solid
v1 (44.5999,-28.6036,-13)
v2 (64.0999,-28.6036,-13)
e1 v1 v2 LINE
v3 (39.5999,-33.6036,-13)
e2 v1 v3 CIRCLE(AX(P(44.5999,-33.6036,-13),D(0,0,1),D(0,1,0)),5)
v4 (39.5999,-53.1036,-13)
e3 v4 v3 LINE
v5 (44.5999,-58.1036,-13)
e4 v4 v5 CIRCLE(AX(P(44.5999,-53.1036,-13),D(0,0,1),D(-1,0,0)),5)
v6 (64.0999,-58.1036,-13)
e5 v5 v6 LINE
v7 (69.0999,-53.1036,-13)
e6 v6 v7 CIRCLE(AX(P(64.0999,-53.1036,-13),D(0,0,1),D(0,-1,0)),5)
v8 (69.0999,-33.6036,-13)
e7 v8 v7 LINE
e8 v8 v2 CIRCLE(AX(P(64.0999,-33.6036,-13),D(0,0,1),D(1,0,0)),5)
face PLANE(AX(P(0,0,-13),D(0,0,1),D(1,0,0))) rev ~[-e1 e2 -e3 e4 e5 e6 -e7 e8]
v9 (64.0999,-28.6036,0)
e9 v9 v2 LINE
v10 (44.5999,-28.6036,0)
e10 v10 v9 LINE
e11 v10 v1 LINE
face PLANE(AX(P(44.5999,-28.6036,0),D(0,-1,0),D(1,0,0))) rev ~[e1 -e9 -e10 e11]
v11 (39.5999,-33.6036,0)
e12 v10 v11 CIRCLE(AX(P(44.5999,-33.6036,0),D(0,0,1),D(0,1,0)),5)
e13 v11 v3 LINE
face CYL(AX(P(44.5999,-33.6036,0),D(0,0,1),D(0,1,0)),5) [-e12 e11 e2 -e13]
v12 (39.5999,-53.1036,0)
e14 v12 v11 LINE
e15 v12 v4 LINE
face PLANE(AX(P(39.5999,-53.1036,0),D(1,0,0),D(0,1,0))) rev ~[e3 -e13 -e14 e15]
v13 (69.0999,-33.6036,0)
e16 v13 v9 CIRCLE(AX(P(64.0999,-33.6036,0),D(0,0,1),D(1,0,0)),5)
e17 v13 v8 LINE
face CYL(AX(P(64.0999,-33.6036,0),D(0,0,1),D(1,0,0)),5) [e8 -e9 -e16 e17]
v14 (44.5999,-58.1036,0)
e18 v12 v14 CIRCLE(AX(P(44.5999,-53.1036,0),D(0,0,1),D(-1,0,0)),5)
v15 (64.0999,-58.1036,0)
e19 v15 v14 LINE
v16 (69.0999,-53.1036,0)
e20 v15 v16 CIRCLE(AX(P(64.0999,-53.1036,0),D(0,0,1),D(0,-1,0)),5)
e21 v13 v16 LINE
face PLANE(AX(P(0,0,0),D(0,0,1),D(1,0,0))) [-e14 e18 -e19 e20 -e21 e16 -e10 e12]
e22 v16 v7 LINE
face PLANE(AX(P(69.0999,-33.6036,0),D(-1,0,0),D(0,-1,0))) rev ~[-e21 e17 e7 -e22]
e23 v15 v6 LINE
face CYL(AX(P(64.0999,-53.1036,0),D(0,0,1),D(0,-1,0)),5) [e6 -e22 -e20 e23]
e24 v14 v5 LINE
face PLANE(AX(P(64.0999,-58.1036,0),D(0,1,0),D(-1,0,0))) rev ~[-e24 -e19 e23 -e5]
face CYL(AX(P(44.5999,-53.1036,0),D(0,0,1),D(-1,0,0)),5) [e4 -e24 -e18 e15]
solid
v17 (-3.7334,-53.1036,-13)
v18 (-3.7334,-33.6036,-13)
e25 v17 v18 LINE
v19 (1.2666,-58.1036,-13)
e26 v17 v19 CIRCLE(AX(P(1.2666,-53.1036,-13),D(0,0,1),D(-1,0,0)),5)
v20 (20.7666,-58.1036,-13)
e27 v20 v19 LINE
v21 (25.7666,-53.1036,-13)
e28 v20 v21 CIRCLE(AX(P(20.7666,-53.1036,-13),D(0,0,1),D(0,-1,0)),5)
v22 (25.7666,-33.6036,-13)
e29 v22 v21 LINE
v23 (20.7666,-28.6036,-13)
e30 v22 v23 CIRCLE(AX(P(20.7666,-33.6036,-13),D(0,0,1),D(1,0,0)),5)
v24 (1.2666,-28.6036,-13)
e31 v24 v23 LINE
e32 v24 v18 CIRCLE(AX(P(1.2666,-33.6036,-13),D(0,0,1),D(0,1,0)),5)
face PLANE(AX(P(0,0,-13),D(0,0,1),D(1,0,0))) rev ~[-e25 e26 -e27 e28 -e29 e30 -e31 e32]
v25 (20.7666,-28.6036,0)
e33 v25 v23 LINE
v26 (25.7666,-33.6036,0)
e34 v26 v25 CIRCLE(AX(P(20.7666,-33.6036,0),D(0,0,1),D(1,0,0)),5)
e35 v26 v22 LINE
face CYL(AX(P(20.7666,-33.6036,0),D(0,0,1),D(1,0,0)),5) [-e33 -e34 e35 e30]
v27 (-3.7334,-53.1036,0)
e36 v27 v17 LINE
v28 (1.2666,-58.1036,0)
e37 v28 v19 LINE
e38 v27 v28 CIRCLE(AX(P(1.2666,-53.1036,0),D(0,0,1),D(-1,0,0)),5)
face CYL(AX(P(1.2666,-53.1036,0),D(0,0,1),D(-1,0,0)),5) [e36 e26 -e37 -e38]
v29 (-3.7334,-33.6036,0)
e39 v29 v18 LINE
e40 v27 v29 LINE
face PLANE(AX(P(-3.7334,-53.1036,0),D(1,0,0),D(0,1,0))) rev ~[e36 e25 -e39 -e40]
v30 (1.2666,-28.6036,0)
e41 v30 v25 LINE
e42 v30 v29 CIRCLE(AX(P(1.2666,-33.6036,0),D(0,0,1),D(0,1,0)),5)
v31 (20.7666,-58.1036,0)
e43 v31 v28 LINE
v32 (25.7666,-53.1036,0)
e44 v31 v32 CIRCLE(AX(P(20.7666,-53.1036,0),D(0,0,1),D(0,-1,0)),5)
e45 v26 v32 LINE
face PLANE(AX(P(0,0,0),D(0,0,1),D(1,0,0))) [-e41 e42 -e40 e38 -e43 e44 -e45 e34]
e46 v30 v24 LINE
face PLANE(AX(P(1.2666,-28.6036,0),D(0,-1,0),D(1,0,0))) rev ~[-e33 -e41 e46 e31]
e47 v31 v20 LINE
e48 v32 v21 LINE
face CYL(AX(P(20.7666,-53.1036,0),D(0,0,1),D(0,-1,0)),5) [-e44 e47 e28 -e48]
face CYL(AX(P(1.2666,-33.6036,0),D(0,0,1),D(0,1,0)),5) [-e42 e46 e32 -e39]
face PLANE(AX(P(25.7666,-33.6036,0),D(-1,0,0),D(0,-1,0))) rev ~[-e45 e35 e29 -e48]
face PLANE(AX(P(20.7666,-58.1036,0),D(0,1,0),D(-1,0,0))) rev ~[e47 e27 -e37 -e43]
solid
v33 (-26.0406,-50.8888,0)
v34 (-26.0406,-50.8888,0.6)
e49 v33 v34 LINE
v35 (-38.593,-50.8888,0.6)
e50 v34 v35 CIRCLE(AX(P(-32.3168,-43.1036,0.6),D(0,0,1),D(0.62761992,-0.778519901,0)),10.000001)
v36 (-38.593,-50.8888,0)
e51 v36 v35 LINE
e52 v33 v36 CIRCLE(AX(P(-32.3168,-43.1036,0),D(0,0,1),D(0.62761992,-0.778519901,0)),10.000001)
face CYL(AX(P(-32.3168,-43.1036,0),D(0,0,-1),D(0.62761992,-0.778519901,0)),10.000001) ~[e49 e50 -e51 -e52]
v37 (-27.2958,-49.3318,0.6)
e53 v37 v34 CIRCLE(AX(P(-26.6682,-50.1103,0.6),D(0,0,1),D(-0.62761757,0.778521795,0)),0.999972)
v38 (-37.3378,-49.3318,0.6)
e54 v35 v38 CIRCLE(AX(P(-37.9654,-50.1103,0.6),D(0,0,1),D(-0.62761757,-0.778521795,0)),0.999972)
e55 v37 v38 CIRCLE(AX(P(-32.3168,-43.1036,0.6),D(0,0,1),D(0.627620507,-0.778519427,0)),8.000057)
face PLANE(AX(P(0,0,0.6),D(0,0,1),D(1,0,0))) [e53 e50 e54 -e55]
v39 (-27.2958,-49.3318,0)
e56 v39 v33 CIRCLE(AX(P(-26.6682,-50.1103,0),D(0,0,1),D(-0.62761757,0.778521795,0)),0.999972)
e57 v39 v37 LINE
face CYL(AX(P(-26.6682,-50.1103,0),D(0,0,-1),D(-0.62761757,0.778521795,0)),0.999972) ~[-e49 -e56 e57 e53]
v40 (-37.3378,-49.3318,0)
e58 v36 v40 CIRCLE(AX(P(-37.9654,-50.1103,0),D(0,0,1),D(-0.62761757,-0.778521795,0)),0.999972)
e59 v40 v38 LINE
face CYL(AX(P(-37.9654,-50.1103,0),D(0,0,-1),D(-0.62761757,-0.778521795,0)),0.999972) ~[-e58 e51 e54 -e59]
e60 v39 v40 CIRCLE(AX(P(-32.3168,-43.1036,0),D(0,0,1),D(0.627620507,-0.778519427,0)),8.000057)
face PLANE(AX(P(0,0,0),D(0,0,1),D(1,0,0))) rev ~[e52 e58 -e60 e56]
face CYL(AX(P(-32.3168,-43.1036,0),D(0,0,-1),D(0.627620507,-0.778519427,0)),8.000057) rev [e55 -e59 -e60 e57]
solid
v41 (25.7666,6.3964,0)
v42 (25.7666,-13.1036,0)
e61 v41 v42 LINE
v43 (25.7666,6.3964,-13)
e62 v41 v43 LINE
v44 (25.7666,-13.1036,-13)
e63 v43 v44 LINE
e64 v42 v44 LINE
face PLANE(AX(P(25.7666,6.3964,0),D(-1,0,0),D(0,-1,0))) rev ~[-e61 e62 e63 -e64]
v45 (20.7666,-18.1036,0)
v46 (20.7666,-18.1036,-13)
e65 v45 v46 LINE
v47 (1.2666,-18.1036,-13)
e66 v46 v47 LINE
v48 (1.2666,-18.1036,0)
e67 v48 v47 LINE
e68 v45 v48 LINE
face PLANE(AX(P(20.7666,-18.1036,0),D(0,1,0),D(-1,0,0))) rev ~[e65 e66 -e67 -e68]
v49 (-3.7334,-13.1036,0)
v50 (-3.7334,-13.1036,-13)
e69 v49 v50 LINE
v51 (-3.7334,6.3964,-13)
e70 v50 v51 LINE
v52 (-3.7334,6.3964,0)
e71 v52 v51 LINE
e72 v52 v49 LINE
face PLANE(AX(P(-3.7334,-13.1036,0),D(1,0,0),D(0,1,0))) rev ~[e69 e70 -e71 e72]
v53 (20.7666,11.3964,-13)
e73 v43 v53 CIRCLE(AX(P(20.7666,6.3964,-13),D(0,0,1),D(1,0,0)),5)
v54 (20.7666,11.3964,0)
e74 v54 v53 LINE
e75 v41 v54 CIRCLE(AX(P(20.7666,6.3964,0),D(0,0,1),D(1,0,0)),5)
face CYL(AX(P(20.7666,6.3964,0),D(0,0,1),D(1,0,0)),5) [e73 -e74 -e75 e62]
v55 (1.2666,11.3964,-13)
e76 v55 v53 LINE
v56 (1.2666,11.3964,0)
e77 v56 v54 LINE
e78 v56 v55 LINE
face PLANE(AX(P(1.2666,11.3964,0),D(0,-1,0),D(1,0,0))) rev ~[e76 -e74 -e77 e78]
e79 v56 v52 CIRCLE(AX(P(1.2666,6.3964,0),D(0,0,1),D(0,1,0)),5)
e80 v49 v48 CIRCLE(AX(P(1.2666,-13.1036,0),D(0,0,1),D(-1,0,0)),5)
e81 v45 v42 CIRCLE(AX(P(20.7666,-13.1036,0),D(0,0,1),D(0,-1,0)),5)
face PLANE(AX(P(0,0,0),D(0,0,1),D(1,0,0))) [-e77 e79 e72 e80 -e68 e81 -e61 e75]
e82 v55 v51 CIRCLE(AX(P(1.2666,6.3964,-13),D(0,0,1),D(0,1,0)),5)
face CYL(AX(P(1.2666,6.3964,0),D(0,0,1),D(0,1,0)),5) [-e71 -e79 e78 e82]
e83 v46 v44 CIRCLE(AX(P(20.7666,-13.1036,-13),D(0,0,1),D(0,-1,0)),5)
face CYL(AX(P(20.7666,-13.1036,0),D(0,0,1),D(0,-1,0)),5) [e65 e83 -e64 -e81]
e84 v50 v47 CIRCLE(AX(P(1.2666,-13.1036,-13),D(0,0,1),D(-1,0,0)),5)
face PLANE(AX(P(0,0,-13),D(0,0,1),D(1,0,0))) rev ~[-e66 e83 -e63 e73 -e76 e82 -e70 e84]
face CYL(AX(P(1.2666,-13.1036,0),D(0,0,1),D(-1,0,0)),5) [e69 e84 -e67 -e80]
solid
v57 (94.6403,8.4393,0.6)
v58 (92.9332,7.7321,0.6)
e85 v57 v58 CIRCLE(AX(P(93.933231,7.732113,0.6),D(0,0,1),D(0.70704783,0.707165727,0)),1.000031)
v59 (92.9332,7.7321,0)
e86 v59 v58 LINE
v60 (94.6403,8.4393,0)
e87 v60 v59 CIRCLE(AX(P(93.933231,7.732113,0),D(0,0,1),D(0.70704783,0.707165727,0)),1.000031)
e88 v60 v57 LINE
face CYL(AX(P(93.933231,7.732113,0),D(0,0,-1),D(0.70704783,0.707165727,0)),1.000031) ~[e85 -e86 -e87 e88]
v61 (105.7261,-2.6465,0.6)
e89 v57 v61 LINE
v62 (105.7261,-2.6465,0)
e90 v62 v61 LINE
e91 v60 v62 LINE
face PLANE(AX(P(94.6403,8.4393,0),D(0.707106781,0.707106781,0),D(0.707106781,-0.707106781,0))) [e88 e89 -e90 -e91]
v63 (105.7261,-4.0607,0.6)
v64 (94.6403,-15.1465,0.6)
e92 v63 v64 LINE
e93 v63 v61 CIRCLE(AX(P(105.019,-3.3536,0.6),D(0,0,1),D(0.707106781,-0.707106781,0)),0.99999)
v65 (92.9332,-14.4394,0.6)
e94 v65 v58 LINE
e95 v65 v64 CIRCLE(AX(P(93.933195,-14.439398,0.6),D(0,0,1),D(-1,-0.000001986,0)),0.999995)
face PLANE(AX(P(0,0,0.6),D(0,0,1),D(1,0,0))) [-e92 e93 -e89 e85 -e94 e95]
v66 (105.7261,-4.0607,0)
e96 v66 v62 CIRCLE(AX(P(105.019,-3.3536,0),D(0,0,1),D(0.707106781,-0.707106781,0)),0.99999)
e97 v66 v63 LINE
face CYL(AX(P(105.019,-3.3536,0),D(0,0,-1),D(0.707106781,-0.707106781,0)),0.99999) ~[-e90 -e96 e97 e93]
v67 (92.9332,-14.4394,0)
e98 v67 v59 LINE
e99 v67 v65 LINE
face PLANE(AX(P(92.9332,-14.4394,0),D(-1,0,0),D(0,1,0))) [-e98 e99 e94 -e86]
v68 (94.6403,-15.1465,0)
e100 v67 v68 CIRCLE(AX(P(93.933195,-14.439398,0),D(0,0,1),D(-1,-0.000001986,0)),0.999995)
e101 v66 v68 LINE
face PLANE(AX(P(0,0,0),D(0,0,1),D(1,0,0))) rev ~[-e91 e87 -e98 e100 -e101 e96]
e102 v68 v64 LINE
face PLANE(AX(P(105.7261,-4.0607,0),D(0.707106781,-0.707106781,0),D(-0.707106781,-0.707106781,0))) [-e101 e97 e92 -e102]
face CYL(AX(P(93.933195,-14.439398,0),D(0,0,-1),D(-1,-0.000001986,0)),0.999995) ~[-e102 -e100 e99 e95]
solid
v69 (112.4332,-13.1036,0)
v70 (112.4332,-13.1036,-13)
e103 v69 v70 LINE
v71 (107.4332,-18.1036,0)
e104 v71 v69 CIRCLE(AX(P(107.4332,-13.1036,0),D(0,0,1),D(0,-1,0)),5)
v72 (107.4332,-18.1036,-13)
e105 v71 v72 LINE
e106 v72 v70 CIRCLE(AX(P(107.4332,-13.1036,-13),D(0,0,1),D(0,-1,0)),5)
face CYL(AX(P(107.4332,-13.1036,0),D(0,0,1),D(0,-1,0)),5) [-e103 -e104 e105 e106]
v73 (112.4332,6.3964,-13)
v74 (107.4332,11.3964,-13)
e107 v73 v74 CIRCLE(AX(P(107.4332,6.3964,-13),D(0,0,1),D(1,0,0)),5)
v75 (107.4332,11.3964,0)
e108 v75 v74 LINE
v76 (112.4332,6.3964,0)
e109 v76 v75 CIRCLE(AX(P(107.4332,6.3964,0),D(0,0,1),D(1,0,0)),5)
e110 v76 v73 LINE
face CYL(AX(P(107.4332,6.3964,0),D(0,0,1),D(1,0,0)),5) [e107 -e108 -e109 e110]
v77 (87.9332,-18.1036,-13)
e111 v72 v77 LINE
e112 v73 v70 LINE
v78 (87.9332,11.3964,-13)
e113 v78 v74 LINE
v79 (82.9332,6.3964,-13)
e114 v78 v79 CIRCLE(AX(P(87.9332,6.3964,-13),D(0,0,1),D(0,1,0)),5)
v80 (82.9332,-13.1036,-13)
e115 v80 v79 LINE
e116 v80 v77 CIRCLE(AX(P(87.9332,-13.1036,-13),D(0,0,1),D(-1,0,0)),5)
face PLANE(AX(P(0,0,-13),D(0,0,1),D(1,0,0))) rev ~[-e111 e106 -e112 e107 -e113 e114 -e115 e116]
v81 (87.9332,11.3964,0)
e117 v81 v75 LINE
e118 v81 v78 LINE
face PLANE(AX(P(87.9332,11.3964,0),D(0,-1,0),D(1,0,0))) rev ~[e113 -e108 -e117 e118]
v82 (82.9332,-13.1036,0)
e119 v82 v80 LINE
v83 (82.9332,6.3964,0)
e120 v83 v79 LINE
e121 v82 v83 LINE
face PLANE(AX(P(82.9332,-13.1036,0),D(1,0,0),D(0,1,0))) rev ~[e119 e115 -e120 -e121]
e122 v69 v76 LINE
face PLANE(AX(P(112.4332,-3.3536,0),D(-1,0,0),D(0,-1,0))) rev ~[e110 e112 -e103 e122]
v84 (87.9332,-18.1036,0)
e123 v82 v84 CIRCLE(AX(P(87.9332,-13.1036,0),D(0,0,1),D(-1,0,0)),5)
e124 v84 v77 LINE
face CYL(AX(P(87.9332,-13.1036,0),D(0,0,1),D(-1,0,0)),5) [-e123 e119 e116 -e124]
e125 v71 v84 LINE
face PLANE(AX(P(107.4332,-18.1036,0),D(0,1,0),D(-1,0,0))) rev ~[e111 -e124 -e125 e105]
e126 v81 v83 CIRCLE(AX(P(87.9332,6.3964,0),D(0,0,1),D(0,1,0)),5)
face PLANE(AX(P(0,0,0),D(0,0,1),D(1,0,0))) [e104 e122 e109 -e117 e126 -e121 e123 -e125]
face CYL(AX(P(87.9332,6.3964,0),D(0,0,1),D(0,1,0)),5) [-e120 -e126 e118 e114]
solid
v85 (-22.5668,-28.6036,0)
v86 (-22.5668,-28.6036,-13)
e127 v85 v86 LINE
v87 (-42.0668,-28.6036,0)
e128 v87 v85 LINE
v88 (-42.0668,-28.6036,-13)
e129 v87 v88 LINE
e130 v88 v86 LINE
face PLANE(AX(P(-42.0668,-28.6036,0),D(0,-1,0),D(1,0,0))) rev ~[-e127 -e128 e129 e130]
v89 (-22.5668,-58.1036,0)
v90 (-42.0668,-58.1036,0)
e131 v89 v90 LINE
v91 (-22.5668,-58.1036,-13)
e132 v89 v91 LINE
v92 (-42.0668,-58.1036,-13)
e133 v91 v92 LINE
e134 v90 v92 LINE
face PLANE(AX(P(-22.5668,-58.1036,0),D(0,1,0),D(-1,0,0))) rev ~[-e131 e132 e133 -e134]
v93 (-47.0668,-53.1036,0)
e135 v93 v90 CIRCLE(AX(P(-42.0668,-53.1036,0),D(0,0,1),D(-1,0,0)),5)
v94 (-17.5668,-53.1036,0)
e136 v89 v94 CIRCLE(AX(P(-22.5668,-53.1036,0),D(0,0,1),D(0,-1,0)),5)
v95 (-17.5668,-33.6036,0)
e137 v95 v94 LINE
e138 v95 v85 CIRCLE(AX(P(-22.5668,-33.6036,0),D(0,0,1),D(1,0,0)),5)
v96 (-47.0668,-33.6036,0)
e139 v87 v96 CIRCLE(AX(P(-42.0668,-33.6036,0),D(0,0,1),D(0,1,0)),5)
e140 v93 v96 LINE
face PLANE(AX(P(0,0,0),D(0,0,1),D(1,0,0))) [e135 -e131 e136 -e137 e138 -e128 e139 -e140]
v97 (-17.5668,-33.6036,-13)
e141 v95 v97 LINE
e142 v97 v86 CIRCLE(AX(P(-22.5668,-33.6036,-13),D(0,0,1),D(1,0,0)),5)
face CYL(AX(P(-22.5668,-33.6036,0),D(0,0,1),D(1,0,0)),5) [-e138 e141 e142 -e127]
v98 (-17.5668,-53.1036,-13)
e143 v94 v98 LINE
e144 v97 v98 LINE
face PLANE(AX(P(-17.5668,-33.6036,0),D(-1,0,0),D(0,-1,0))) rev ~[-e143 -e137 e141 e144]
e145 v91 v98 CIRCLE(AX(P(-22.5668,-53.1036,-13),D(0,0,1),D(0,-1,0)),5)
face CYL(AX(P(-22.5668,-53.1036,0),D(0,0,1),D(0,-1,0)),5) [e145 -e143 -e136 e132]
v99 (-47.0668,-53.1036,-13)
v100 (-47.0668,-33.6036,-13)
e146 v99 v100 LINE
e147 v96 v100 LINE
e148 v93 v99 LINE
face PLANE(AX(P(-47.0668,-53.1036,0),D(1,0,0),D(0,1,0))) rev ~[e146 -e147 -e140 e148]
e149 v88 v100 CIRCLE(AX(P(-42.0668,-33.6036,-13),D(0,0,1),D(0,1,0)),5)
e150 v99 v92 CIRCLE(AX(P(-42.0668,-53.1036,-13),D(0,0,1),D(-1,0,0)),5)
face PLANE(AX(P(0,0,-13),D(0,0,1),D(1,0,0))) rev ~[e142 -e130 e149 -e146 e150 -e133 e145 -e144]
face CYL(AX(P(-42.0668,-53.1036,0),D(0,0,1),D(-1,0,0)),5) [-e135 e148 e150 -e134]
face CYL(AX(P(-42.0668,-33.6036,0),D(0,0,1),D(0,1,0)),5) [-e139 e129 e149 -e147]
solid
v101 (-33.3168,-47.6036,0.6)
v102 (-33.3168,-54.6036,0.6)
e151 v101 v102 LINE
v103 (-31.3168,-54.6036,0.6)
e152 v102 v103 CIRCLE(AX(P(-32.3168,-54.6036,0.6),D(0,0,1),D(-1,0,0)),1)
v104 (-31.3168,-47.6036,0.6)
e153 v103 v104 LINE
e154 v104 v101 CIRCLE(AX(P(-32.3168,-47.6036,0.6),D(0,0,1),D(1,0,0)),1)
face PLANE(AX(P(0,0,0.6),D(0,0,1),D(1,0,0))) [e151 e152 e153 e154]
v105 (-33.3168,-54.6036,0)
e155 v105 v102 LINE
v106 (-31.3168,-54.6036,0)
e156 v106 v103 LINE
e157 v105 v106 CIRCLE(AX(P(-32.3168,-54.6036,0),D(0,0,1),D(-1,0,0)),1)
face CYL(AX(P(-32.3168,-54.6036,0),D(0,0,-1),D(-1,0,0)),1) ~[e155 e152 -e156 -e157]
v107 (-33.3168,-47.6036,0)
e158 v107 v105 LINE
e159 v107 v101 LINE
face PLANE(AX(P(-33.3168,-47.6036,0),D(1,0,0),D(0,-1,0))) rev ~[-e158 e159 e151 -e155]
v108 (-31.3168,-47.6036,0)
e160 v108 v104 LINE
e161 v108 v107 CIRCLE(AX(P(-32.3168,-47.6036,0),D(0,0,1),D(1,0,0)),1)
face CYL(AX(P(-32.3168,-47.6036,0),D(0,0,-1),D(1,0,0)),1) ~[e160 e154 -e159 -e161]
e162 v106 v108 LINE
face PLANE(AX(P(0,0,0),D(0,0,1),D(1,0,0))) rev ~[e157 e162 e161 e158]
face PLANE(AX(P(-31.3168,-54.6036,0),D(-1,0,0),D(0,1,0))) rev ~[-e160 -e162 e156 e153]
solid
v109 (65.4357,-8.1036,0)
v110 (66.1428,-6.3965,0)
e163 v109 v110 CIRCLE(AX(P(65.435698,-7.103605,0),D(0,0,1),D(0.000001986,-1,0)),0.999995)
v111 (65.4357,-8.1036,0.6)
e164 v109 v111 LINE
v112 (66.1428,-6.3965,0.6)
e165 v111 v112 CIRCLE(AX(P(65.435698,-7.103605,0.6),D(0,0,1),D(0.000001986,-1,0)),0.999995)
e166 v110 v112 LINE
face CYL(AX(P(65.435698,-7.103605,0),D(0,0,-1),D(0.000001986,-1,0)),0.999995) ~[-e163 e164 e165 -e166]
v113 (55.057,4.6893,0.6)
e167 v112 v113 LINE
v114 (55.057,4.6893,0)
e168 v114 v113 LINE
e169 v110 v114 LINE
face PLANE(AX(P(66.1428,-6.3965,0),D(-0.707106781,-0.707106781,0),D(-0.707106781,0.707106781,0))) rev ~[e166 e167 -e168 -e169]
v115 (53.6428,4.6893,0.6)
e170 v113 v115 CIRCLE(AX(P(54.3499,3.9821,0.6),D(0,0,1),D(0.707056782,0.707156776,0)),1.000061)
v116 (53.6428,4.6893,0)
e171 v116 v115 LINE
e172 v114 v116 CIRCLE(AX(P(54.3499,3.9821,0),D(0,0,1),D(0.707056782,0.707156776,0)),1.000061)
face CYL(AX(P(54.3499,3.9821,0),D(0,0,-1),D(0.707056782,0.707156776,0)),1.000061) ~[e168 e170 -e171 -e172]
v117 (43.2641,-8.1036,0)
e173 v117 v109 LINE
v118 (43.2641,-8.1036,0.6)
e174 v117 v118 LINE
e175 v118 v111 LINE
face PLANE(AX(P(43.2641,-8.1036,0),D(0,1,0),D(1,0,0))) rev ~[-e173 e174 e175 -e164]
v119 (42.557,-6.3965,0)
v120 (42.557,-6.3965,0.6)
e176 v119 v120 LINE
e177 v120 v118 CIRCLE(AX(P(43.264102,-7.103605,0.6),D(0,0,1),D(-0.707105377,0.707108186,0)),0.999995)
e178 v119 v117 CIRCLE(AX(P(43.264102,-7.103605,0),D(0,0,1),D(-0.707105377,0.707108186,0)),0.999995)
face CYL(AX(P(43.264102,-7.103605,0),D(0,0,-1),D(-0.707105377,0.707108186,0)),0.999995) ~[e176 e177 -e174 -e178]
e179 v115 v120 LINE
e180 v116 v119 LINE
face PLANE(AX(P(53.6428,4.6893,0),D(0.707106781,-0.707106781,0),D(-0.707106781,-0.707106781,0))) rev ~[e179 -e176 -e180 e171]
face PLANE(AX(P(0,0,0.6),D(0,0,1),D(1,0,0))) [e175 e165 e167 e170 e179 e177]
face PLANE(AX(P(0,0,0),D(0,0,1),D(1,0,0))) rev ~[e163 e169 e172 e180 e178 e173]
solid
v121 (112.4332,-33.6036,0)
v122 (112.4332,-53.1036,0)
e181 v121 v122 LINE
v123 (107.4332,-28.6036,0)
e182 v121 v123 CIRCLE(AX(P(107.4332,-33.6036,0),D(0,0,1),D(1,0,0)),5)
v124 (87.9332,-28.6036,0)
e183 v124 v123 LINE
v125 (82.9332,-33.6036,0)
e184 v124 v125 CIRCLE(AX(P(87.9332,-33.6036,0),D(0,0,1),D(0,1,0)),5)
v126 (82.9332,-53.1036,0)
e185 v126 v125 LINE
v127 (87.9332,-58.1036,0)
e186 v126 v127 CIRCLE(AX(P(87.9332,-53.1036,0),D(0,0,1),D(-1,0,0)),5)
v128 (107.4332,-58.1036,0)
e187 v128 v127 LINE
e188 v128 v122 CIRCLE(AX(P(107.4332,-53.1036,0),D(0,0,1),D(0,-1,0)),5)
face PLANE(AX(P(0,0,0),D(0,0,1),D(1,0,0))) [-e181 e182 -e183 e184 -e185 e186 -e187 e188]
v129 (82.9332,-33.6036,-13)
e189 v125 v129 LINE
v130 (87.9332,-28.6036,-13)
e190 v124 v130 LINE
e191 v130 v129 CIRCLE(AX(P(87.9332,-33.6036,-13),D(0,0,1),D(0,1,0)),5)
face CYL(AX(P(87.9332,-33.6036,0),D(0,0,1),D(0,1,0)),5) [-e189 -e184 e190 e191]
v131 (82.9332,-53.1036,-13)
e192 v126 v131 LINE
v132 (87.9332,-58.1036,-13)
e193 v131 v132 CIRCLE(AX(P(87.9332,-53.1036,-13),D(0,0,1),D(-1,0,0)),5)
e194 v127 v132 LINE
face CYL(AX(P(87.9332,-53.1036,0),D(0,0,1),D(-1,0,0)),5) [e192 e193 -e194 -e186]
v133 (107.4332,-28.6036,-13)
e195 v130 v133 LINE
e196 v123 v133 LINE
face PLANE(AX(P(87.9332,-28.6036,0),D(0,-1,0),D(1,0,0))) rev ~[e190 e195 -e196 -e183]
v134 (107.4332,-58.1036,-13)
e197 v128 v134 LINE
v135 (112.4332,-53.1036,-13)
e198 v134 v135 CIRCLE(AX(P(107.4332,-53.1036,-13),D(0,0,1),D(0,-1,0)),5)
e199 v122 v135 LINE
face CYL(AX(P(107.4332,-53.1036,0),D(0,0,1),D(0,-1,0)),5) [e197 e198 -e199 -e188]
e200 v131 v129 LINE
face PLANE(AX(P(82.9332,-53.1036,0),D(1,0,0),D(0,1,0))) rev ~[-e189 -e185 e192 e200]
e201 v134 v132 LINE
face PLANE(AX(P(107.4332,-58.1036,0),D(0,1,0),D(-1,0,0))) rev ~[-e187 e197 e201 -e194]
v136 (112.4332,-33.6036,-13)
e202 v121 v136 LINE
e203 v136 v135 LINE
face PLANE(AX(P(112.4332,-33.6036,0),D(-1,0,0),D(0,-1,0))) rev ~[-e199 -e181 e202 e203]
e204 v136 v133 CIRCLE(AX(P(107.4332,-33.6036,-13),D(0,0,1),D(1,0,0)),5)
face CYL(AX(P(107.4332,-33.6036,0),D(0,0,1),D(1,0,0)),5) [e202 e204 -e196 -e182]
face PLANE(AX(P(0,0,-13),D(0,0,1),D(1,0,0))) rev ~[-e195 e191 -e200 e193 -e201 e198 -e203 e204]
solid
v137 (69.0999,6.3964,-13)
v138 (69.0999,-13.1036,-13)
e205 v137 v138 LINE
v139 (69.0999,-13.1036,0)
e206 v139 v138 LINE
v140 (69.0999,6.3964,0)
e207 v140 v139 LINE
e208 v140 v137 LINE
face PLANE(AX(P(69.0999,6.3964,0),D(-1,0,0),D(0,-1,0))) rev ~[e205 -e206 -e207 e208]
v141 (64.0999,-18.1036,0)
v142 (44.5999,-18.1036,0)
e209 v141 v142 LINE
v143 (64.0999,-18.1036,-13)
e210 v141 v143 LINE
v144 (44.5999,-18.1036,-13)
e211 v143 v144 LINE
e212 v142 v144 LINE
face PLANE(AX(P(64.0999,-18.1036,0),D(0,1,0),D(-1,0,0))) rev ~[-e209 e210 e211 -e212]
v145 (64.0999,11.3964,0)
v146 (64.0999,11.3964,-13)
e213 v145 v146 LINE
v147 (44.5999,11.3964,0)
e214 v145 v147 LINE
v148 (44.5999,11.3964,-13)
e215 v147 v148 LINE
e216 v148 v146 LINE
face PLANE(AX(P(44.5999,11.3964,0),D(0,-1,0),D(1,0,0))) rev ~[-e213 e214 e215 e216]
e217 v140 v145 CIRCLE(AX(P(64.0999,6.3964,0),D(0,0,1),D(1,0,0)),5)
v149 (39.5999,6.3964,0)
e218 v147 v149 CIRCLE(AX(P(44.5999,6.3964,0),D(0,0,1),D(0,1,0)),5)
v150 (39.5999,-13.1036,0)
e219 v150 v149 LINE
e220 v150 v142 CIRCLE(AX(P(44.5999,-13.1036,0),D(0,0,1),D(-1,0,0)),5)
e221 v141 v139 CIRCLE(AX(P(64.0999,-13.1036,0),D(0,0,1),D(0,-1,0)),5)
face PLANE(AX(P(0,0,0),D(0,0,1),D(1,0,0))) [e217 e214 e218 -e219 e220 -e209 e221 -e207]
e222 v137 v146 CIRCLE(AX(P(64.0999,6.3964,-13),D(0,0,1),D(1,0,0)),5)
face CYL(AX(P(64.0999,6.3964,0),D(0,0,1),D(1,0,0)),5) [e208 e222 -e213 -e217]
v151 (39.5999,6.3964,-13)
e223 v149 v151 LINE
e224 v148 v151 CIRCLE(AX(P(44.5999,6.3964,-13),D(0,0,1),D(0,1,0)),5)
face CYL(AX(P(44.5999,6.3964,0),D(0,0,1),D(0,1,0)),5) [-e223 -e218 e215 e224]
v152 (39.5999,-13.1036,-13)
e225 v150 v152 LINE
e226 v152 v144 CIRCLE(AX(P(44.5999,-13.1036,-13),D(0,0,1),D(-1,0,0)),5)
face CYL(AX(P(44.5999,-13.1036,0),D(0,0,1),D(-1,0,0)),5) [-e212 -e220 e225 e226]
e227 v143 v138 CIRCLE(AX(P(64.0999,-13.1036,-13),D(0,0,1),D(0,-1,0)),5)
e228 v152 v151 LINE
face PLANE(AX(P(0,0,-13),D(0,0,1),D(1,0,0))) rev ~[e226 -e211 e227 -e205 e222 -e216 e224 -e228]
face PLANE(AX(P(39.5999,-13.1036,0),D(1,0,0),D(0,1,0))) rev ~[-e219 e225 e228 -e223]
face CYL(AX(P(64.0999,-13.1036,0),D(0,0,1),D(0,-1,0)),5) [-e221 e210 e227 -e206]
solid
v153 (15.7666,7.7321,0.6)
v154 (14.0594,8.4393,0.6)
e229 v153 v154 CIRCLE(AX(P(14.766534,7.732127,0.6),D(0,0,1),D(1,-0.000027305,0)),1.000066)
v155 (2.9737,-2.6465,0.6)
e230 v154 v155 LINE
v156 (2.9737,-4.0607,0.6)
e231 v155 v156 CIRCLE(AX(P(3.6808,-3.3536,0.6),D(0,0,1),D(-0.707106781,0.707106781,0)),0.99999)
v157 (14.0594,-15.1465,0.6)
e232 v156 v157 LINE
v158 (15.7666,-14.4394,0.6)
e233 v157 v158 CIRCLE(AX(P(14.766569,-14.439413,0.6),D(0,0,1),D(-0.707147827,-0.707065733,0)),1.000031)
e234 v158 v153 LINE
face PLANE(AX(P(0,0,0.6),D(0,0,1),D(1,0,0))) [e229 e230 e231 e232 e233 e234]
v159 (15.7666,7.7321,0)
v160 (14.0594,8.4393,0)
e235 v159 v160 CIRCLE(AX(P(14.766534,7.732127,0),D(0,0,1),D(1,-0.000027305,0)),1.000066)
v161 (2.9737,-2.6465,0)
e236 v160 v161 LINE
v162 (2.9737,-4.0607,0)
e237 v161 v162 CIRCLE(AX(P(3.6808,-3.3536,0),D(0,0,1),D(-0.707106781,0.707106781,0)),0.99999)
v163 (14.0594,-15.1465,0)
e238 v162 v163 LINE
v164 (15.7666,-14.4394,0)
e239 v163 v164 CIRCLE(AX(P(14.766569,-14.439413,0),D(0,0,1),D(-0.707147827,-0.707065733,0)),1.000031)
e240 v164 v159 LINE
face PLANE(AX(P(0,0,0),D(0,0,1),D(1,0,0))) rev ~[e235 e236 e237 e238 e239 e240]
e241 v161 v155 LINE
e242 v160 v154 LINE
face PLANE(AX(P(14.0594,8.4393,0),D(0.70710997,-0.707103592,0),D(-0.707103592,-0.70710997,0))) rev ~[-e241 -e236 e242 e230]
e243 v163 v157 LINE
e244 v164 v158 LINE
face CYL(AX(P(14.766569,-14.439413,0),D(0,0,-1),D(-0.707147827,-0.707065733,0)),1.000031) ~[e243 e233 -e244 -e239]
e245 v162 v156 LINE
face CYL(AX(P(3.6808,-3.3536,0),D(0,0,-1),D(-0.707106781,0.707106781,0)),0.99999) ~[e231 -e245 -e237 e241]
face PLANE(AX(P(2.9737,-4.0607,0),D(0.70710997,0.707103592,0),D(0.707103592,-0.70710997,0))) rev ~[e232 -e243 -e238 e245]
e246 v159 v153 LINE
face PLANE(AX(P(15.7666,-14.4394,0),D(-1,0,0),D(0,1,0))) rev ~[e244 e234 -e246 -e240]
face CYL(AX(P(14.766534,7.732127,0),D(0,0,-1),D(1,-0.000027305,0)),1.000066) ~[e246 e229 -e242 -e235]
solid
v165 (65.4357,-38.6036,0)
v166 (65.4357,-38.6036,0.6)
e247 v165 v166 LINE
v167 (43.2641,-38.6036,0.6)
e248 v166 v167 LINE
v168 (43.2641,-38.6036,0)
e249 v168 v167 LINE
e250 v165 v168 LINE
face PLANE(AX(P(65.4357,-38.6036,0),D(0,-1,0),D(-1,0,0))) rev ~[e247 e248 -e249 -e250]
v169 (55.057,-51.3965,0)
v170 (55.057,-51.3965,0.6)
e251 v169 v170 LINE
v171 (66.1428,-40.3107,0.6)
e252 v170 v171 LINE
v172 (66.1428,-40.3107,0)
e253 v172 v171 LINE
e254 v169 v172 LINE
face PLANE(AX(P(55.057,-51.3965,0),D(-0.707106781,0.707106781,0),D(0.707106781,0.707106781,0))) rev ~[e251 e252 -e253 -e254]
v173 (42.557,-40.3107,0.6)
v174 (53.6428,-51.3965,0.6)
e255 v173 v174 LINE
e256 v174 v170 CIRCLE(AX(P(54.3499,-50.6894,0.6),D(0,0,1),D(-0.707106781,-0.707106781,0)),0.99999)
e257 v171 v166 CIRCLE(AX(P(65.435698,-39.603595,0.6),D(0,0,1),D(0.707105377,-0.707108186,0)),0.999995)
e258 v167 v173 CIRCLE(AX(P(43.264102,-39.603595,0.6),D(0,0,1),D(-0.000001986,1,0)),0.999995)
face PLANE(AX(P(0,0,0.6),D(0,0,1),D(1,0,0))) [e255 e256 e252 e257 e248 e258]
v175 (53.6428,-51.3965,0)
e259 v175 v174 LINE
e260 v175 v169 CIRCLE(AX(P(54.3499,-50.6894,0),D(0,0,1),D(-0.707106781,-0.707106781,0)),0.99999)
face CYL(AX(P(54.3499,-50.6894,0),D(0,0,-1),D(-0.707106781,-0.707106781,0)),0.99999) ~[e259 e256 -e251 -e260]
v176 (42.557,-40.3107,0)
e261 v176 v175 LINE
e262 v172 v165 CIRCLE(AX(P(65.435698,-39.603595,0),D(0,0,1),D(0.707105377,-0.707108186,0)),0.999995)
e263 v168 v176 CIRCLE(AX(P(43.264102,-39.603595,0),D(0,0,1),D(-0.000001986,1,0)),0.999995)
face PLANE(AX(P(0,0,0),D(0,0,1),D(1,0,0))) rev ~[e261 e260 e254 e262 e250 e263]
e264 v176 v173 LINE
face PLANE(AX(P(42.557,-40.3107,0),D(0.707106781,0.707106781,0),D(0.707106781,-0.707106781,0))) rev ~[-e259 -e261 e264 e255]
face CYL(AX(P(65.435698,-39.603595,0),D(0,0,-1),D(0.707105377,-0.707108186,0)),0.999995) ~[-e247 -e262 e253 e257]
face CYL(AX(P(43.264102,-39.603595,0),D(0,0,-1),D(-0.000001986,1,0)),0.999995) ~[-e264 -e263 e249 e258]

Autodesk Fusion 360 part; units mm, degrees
sketch "Sketch1" plane through (0, 0, 0) normal (0, 0, 1) x (1, 0, 0)
  line L0 (-42.0668, -28.6036) -> (-22.5668, -28.6036)
  line L1 (-17.5668, -33.6036) -> (-17.5668, -53.1036)
  line L2 (-22.5668, -58.1036) -> (-42.0668, -58.1036)
  line L3 (-47.0668, -53.1036) -> (-47.0668, -33.6036)
  arc A0 (-42.0668, -28.6036) -> (-47.0668, -33.6036) centre (-42.0668, -33.6036) ccw
  arc A1 (-17.5668, -33.6036) -> (-22.5668, -28.6036) centre (-22.5668, -33.6036) ccw
  arc A2 (-22.5668, -58.1036) -> (-17.5668, -53.1036) centre (-22.5668, -53.1036) ccw
  arc A3 (-47.0668, -53.1036) -> (-42.0668, -58.1036) centre (-42.0668, -53.1036) ccw
  arc A4 (20.7666, -58.1036) -> (25.7666, -53.1036) centre (20.7666, -53.1036) ccw
  arc A5 (1.2666, -28.6036) -> (-3.7334, -33.6036) centre (1.2666, -33.6036) ccw
  line L4 (-3.7334, -53.1036) -> (-3.7334, -33.6036)
  line L5 (20.7666, -58.1036) -> (1.2666, -58.1036)
  arc A6 (25.7666, -33.6036) -> (20.7666, -28.6036) centre (20.7666, -33.6036) ccw
  arc A7 (-3.7334, -53.1036) -> (1.2666, -58.1036) centre (1.2666, -53.1036) ccw
  line L6 (1.2666, -28.6036) -> (20.7666, -28.6036)
  line L7 (25.7666, -33.6036) -> (25.7666, -53.1036)
  arc A8 (64.0999, -58.1036) -> (69.0999, -53.1036) centre (64.0999, -53.1036) ccw
  arc A9 (44.5999, -28.6036) -> (39.5999, -33.6036) centre (44.5999, -33.6036) ccw
  line L8 (39.5999, -53.1036) -> (39.5999, -33.6036)
  line L9 (64.0999, -58.1036) -> (44.5999, -58.1036)
  arc A10 (69.0999, -33.6036) -> (64.0999, -28.6036) centre (64.0999, -33.6036) ccw
  arc A11 (39.5999, -53.1036) -> (44.5999, -58.1036) centre (44.5999, -53.1036) ccw
  line L10 (44.5999, -28.6036) -> (64.0999, -28.6036)
  line L11 (69.0999, -33.6036) -> (69.0999, -53.1036)
  arc A12 (107.4332, -58.1036) -> (112.4332, -53.1036) centre (107.4332, -53.1036) ccw
  arc A13 (87.9332, -28.6036) -> (82.9332, -33.6036) centre (87.9332, -33.6036) ccw
  line L12 (82.9332, -53.1036) -> (82.9332, -33.6036)
  line L13 (107.4332, -58.1036) -> (87.9332, -58.1036)
  arc A14 (112.4332, -33.6036) -> (107.4332, -28.6036) centre (107.4332, -33.6036) ccw
  arc A15 (82.9332, -53.1036) -> (87.9332, -58.1036) centre (87.9332, -53.1036) ccw
  line L14 (87.9332, -28.6036) -> (107.4332, -28.6036)
  line L15 (112.4332, -33.6036) -> (112.4332, -53.1036)
  arc A16 (20.7666, -18.1036) -> (25.7666, -13.1036) centre (20.7666, -13.1036) ccw
  arc A17 (1.2666, 11.3964) -> (-3.7334, 6.3964) centre (1.2666, 6.3964) ccw
  line L16 (-3.7334, -13.1036) -> (-3.7334, 6.3964)
  line L17 (20.7666, -18.1036) -> (1.2666, -18.1036)
  arc A18 (25.7666, 6.3964) -> (20.7666, 11.3964) centre (20.7666, 6.3964) ccw
  arc A19 (-3.7334, -13.1036) -> (1.2666, -18.1036) centre (1.2666, -13.1036) ccw
  line L18 (1.2666, 11.3964) -> (20.7666, 11.3964)
  line L19 (25.7666, 6.3964) -> (25.7666, -13.1036)
  arc A20 (64.0999, -18.1036) -> (69.0999, -13.1036) centre (64.0999, -13.1036) ccw
  arc A21 (44.5999, 11.3964) -> (39.5999, 6.3964) centre (44.5999, 6.3964) ccw
  line L20 (39.5999, -13.1036) -> (39.5999, 6.3964)
  line L21 (64.0999, -18.1036) -> (44.5999, -18.1036)
  arc A22 (69.0999, 6.3964) -> (64.0999, 11.3964) centre (64.0999, 6.3964) ccw
  arc A23 (39.5999, -13.1036) -> (44.5999, -18.1036) centre (44.5999, -13.1036) ccw
  line L22 (44.5999, 11.3964) -> (64.0999, 11.3964)
  line L23 (69.0999, 6.3964) -> (69.0999, -13.1036)
  arc A24 (107.4332, -18.1036) -> (112.4332, -13.1036) centre (107.4332, -13.1036) ccw
  arc A25 (87.9332, 11.3964) -> (82.9332, 6.3964) centre (87.9332, 6.3964) ccw
  line L24 (82.9332, -13.1036) -> (82.9332, 6.3964)
  line L25 (107.4332, -18.1036) -> (87.9332, -18.1036)
  arc A26 (112.4332, 6.3964) -> (107.4332, 11.3964) centre (107.4332, 6.3964) ccw
  arc A27 (82.9332, -13.1036) -> (87.9332, -18.1036) centre (87.9332, -13.1036) ccw
  line L26 (87.9332, 11.3964) -> (107.4332, 11.3964)
  line L27 (112.4332, 6.3964) -> (112.4332, -13.1036)
  line L28 (54.3499, -58.1036) -> (54.3499, -52.1036)
  line L29 (55.057, -51.3965) -> (66.1428, -40.3107)
  line L30 (65.4357, -38.6036) -> (43.2641, -38.6036)
  line L31 (42.557, -40.3107) -> (53.6428, -51.3965)
  arc A28 (66.1428, -40.3107) -> (65.4357, -38.6036) centre (65.4357, -39.6036) ccw
  arc A29 (43.2641, -38.6036) -> (42.557, -40.3107) centre (43.2641, -39.6036) ccw
  arc A30 (53.6428, -51.3965) -> (55.057, -51.3965) centre (54.3499, -50.6894) ccw
  line L32 (54.3499, 11.3964) -> (54.3499, 5.3964)
  line L33 (53.6428, 4.6893) -> (42.557, -6.3965)
  line L34 (43.2641, -8.1036) -> (65.4357, -8.1036)
  line L35 (66.1428, -6.3965) -> (55.057, 4.6893)
  arc A31 (65.4357, -8.1036) -> (66.1428, -6.3965) centre (65.4357, -7.1036) ccw
  arc A32 (42.557, -6.3965) -> (43.2641, -8.1036) centre (43.2641, -7.1036) ccw
  arc A33 (55.057, 4.6893) -> (53.6428, 4.6893) centre (54.3499, 3.9821) ccw
  line L36 (112.4332, -3.3536) -> (106.4332, -3.3536)
  line L37 (-3.7334, -3.3536) -> (2.2666, -3.3536)
  line L38 (105.7261, -4.0607) -> (94.6403, -15.1465)
  line L39 (92.9332, -14.4394) -> (92.9332, 7.7321)
  line L40 (94.6403, 8.4393) -> (105.7261, -2.6465)
  line L41 (2.9737, -4.0607) -> (14.0594, -15.1465)
  line L42 (15.7666, -14.4394) -> (15.7666, 7.7321)
  line L43 (14.0594, 8.4393) -> (2.9737, -2.6465)
  arc A34 (92.9332, -14.4394) -> (94.6403, -15.1465) centre (93.9332, -14.4394) ccw
  arc A35 (94.6403, 8.4393) -> (92.9332, 7.7321) centre (93.9332, 7.7321) ccw
  arc A36 (105.7261, -4.0607) -> (105.7261, -2.6465) centre (105.019, -3.3536) ccw
  arc A37 (14.0594, -15.1465) -> (15.7666, -14.4394) centre (14.7666, -14.4394) ccw
  arc A38 (15.7666, 7.7321) -> (14.0594, 8.4393) centre (14.7666, 7.7321) ccw
  arc A39 (2.9737, -2.6465) -> (2.9737, -4.0607) centre (3.6808, -3.3536) ccw
  arc A40 (-26.0406, -50.8888) -> (-38.593, -50.8888) centre (-32.3168, -43.1036) ccw
  arc A41 (-27.2958, -49.3318) -> (-37.3378, -49.3318) centre (-32.3168, -43.1036) ccw
  arc A42 (-27.2958, -49.3318) -> (-26.0406, -50.8888) centre (-26.6682, -50.1103) ccw
  arc A43 (-38.593, -50.8888) -> (-37.3378, -49.3318) centre (-37.9654, -50.1103) ccw
  line L44 (-31.3168, -54.6036) -> (-31.3168, -47.6036)
  arc A44 (-31.3168, -47.6036) -> (-33.3168, -47.6036) centre (-32.3168, -47.6036) ccw
  line L45 (-33.3168, -47.6036) -> (-33.3168, -54.6036)
  arc A45 (-33.3168, -54.6036) -> (-31.3168, -54.6036) centre (-32.3168, -54.6036) ccw
  line L46 (-32.3168, -54.6036) -> (-32.3168, -47.6036) construction
  point P0 (-47.0668, -28.6036)
  point P1 (-17.5668, -28.6036)
  point P2 (-47.0668, -58.1036)
  point P3 (-3.7334, -58.1036)
  point P4 (25.7666, -28.6036)
  point P5 (-3.7334, -28.6036)
  point P6 (39.5999, -58.1036)
  point P7 (69.0999, -28.6036)
  point P8 (39.5999, -28.6036)
  point P9 (82.9332, -58.1036)
  point P10 (112.4332, -28.6036)
  point P11 (82.9332, -28.6036)
  point P12 (-3.7334, -18.1036)
  point P13 (25.7666, 11.3964)
  point P14 (-3.7334, 11.3964)
  point P15 (39.5999, -18.1036)
  point P16 (69.0999, 11.3964)
  point P17 (39.5999, 11.3964)
  point P18 (82.9332, -18.1036)
  point P19 (112.4332, 11.3964)
  point P20 (82.9332, 11.3964)
  dimension "d15" = 29.5
  dimension "d16" = 29.5
  dimension "d17" = 5
  dimension "d18" = 5
  dimension "d21" = 130
  dimension "d22" = 40
  dimension "d23" = 6
  dimension "d24" = 45
  dimension "d25" = 45
  dimension "d26" = 10
  dimension "d27" = 1
  dimension "d28" = 1
  dimension "d29" = 1
  dimension "d30" = 6
  dimension "d31" = 45
  dimension "d32" = 45
  dimension "d33" = 10
  dimension "d34" = 1
  dimension "d35" = 1
  dimension "d36" = 1
  dimension "d37" = 6
  dimension "d38" = 6
  dimension "d39" = 45
  dimension "d40" = 45
  dimension "d41" = 45
  dimension "d42" = 45
  dimension "d43" = 10
  dimension "d44" = 10
  dimension "d45" = 1
  dimension "d46" = 1
  dimension "d47" = 1
  dimension "d48" = 1
  dimension "d49" = 1
  dimension "d50" = 1
  dimension "d51" = 20
  dimension "d52" = 16
  dimension "d54" = 2
  dimension "d55" = 7
  dimension "d56" = 3.5
  dimension "d61" = 14.75
  dimension "d62" = 14.75
extrude "Extrude1" add sketch "Sketch1" along normal blind 0.6 contours L29 L30 L31 A28 A29 A30 | L33 L34 L35 A31 A32 A33 | L38 L39 L40 A34 A35 A36 | L41 L42 L43 A37 A38 A39 | A40 A41 A42 A43 | L44 A44 L45 A45 makes body 1 at (54.1142, -42.8679, 0) makes body 2 at (11.5023, -3.1179, 0) makes body 3 at (-23.2784, -45.3338, 0) makes body 4 at (97.1975, -3.1179, 0) makes body 5 at (54.5856, -3.8393, 0) makes body 6 at (-32.6501, -49.937, 0)
extrude "Extrude2" add sketch "Sketch1" against normal blind 13 separate body contours L0 L1 L2 L3 A0 A1 A2 A3 | A4 A5 L4 L5 A6 A7 L6 L7 | A8 A9 L8 L9 A10 A11 L10 L11 | A12 A13 L12 L13 A14 A15 L14 L15 | A16 A17 L16 L17 A18 A19 L18 L19 | A20 A21 L20 L21 A22 A23 L22 L23 | A24 A25 L24 L25 A26 A27 L26 L27 | L29 L30 L31 A28 A29 A30 | L33 L34 L35 A31 A32 A33 | L38 L39 L40 A34 A35 A36 | L41 L42 L43 A37 A38 A39 | A40 A41 A42 A43 | L44 A44 L45 A45 makes body 7 at (57.5999, -44.937, 0) makes body 8 at (14.2666, -4.937, 0) makes body 9 at (-29.0668, -48.2703, 0) makes body 10 at (51.0999, 1.563, 0) makes body 11 at (102.5999, -0.1036, 0) makes body 12 at (15.9332, -46.6036, 0) makes body 13 at (100.9332, -38.437, 0)
